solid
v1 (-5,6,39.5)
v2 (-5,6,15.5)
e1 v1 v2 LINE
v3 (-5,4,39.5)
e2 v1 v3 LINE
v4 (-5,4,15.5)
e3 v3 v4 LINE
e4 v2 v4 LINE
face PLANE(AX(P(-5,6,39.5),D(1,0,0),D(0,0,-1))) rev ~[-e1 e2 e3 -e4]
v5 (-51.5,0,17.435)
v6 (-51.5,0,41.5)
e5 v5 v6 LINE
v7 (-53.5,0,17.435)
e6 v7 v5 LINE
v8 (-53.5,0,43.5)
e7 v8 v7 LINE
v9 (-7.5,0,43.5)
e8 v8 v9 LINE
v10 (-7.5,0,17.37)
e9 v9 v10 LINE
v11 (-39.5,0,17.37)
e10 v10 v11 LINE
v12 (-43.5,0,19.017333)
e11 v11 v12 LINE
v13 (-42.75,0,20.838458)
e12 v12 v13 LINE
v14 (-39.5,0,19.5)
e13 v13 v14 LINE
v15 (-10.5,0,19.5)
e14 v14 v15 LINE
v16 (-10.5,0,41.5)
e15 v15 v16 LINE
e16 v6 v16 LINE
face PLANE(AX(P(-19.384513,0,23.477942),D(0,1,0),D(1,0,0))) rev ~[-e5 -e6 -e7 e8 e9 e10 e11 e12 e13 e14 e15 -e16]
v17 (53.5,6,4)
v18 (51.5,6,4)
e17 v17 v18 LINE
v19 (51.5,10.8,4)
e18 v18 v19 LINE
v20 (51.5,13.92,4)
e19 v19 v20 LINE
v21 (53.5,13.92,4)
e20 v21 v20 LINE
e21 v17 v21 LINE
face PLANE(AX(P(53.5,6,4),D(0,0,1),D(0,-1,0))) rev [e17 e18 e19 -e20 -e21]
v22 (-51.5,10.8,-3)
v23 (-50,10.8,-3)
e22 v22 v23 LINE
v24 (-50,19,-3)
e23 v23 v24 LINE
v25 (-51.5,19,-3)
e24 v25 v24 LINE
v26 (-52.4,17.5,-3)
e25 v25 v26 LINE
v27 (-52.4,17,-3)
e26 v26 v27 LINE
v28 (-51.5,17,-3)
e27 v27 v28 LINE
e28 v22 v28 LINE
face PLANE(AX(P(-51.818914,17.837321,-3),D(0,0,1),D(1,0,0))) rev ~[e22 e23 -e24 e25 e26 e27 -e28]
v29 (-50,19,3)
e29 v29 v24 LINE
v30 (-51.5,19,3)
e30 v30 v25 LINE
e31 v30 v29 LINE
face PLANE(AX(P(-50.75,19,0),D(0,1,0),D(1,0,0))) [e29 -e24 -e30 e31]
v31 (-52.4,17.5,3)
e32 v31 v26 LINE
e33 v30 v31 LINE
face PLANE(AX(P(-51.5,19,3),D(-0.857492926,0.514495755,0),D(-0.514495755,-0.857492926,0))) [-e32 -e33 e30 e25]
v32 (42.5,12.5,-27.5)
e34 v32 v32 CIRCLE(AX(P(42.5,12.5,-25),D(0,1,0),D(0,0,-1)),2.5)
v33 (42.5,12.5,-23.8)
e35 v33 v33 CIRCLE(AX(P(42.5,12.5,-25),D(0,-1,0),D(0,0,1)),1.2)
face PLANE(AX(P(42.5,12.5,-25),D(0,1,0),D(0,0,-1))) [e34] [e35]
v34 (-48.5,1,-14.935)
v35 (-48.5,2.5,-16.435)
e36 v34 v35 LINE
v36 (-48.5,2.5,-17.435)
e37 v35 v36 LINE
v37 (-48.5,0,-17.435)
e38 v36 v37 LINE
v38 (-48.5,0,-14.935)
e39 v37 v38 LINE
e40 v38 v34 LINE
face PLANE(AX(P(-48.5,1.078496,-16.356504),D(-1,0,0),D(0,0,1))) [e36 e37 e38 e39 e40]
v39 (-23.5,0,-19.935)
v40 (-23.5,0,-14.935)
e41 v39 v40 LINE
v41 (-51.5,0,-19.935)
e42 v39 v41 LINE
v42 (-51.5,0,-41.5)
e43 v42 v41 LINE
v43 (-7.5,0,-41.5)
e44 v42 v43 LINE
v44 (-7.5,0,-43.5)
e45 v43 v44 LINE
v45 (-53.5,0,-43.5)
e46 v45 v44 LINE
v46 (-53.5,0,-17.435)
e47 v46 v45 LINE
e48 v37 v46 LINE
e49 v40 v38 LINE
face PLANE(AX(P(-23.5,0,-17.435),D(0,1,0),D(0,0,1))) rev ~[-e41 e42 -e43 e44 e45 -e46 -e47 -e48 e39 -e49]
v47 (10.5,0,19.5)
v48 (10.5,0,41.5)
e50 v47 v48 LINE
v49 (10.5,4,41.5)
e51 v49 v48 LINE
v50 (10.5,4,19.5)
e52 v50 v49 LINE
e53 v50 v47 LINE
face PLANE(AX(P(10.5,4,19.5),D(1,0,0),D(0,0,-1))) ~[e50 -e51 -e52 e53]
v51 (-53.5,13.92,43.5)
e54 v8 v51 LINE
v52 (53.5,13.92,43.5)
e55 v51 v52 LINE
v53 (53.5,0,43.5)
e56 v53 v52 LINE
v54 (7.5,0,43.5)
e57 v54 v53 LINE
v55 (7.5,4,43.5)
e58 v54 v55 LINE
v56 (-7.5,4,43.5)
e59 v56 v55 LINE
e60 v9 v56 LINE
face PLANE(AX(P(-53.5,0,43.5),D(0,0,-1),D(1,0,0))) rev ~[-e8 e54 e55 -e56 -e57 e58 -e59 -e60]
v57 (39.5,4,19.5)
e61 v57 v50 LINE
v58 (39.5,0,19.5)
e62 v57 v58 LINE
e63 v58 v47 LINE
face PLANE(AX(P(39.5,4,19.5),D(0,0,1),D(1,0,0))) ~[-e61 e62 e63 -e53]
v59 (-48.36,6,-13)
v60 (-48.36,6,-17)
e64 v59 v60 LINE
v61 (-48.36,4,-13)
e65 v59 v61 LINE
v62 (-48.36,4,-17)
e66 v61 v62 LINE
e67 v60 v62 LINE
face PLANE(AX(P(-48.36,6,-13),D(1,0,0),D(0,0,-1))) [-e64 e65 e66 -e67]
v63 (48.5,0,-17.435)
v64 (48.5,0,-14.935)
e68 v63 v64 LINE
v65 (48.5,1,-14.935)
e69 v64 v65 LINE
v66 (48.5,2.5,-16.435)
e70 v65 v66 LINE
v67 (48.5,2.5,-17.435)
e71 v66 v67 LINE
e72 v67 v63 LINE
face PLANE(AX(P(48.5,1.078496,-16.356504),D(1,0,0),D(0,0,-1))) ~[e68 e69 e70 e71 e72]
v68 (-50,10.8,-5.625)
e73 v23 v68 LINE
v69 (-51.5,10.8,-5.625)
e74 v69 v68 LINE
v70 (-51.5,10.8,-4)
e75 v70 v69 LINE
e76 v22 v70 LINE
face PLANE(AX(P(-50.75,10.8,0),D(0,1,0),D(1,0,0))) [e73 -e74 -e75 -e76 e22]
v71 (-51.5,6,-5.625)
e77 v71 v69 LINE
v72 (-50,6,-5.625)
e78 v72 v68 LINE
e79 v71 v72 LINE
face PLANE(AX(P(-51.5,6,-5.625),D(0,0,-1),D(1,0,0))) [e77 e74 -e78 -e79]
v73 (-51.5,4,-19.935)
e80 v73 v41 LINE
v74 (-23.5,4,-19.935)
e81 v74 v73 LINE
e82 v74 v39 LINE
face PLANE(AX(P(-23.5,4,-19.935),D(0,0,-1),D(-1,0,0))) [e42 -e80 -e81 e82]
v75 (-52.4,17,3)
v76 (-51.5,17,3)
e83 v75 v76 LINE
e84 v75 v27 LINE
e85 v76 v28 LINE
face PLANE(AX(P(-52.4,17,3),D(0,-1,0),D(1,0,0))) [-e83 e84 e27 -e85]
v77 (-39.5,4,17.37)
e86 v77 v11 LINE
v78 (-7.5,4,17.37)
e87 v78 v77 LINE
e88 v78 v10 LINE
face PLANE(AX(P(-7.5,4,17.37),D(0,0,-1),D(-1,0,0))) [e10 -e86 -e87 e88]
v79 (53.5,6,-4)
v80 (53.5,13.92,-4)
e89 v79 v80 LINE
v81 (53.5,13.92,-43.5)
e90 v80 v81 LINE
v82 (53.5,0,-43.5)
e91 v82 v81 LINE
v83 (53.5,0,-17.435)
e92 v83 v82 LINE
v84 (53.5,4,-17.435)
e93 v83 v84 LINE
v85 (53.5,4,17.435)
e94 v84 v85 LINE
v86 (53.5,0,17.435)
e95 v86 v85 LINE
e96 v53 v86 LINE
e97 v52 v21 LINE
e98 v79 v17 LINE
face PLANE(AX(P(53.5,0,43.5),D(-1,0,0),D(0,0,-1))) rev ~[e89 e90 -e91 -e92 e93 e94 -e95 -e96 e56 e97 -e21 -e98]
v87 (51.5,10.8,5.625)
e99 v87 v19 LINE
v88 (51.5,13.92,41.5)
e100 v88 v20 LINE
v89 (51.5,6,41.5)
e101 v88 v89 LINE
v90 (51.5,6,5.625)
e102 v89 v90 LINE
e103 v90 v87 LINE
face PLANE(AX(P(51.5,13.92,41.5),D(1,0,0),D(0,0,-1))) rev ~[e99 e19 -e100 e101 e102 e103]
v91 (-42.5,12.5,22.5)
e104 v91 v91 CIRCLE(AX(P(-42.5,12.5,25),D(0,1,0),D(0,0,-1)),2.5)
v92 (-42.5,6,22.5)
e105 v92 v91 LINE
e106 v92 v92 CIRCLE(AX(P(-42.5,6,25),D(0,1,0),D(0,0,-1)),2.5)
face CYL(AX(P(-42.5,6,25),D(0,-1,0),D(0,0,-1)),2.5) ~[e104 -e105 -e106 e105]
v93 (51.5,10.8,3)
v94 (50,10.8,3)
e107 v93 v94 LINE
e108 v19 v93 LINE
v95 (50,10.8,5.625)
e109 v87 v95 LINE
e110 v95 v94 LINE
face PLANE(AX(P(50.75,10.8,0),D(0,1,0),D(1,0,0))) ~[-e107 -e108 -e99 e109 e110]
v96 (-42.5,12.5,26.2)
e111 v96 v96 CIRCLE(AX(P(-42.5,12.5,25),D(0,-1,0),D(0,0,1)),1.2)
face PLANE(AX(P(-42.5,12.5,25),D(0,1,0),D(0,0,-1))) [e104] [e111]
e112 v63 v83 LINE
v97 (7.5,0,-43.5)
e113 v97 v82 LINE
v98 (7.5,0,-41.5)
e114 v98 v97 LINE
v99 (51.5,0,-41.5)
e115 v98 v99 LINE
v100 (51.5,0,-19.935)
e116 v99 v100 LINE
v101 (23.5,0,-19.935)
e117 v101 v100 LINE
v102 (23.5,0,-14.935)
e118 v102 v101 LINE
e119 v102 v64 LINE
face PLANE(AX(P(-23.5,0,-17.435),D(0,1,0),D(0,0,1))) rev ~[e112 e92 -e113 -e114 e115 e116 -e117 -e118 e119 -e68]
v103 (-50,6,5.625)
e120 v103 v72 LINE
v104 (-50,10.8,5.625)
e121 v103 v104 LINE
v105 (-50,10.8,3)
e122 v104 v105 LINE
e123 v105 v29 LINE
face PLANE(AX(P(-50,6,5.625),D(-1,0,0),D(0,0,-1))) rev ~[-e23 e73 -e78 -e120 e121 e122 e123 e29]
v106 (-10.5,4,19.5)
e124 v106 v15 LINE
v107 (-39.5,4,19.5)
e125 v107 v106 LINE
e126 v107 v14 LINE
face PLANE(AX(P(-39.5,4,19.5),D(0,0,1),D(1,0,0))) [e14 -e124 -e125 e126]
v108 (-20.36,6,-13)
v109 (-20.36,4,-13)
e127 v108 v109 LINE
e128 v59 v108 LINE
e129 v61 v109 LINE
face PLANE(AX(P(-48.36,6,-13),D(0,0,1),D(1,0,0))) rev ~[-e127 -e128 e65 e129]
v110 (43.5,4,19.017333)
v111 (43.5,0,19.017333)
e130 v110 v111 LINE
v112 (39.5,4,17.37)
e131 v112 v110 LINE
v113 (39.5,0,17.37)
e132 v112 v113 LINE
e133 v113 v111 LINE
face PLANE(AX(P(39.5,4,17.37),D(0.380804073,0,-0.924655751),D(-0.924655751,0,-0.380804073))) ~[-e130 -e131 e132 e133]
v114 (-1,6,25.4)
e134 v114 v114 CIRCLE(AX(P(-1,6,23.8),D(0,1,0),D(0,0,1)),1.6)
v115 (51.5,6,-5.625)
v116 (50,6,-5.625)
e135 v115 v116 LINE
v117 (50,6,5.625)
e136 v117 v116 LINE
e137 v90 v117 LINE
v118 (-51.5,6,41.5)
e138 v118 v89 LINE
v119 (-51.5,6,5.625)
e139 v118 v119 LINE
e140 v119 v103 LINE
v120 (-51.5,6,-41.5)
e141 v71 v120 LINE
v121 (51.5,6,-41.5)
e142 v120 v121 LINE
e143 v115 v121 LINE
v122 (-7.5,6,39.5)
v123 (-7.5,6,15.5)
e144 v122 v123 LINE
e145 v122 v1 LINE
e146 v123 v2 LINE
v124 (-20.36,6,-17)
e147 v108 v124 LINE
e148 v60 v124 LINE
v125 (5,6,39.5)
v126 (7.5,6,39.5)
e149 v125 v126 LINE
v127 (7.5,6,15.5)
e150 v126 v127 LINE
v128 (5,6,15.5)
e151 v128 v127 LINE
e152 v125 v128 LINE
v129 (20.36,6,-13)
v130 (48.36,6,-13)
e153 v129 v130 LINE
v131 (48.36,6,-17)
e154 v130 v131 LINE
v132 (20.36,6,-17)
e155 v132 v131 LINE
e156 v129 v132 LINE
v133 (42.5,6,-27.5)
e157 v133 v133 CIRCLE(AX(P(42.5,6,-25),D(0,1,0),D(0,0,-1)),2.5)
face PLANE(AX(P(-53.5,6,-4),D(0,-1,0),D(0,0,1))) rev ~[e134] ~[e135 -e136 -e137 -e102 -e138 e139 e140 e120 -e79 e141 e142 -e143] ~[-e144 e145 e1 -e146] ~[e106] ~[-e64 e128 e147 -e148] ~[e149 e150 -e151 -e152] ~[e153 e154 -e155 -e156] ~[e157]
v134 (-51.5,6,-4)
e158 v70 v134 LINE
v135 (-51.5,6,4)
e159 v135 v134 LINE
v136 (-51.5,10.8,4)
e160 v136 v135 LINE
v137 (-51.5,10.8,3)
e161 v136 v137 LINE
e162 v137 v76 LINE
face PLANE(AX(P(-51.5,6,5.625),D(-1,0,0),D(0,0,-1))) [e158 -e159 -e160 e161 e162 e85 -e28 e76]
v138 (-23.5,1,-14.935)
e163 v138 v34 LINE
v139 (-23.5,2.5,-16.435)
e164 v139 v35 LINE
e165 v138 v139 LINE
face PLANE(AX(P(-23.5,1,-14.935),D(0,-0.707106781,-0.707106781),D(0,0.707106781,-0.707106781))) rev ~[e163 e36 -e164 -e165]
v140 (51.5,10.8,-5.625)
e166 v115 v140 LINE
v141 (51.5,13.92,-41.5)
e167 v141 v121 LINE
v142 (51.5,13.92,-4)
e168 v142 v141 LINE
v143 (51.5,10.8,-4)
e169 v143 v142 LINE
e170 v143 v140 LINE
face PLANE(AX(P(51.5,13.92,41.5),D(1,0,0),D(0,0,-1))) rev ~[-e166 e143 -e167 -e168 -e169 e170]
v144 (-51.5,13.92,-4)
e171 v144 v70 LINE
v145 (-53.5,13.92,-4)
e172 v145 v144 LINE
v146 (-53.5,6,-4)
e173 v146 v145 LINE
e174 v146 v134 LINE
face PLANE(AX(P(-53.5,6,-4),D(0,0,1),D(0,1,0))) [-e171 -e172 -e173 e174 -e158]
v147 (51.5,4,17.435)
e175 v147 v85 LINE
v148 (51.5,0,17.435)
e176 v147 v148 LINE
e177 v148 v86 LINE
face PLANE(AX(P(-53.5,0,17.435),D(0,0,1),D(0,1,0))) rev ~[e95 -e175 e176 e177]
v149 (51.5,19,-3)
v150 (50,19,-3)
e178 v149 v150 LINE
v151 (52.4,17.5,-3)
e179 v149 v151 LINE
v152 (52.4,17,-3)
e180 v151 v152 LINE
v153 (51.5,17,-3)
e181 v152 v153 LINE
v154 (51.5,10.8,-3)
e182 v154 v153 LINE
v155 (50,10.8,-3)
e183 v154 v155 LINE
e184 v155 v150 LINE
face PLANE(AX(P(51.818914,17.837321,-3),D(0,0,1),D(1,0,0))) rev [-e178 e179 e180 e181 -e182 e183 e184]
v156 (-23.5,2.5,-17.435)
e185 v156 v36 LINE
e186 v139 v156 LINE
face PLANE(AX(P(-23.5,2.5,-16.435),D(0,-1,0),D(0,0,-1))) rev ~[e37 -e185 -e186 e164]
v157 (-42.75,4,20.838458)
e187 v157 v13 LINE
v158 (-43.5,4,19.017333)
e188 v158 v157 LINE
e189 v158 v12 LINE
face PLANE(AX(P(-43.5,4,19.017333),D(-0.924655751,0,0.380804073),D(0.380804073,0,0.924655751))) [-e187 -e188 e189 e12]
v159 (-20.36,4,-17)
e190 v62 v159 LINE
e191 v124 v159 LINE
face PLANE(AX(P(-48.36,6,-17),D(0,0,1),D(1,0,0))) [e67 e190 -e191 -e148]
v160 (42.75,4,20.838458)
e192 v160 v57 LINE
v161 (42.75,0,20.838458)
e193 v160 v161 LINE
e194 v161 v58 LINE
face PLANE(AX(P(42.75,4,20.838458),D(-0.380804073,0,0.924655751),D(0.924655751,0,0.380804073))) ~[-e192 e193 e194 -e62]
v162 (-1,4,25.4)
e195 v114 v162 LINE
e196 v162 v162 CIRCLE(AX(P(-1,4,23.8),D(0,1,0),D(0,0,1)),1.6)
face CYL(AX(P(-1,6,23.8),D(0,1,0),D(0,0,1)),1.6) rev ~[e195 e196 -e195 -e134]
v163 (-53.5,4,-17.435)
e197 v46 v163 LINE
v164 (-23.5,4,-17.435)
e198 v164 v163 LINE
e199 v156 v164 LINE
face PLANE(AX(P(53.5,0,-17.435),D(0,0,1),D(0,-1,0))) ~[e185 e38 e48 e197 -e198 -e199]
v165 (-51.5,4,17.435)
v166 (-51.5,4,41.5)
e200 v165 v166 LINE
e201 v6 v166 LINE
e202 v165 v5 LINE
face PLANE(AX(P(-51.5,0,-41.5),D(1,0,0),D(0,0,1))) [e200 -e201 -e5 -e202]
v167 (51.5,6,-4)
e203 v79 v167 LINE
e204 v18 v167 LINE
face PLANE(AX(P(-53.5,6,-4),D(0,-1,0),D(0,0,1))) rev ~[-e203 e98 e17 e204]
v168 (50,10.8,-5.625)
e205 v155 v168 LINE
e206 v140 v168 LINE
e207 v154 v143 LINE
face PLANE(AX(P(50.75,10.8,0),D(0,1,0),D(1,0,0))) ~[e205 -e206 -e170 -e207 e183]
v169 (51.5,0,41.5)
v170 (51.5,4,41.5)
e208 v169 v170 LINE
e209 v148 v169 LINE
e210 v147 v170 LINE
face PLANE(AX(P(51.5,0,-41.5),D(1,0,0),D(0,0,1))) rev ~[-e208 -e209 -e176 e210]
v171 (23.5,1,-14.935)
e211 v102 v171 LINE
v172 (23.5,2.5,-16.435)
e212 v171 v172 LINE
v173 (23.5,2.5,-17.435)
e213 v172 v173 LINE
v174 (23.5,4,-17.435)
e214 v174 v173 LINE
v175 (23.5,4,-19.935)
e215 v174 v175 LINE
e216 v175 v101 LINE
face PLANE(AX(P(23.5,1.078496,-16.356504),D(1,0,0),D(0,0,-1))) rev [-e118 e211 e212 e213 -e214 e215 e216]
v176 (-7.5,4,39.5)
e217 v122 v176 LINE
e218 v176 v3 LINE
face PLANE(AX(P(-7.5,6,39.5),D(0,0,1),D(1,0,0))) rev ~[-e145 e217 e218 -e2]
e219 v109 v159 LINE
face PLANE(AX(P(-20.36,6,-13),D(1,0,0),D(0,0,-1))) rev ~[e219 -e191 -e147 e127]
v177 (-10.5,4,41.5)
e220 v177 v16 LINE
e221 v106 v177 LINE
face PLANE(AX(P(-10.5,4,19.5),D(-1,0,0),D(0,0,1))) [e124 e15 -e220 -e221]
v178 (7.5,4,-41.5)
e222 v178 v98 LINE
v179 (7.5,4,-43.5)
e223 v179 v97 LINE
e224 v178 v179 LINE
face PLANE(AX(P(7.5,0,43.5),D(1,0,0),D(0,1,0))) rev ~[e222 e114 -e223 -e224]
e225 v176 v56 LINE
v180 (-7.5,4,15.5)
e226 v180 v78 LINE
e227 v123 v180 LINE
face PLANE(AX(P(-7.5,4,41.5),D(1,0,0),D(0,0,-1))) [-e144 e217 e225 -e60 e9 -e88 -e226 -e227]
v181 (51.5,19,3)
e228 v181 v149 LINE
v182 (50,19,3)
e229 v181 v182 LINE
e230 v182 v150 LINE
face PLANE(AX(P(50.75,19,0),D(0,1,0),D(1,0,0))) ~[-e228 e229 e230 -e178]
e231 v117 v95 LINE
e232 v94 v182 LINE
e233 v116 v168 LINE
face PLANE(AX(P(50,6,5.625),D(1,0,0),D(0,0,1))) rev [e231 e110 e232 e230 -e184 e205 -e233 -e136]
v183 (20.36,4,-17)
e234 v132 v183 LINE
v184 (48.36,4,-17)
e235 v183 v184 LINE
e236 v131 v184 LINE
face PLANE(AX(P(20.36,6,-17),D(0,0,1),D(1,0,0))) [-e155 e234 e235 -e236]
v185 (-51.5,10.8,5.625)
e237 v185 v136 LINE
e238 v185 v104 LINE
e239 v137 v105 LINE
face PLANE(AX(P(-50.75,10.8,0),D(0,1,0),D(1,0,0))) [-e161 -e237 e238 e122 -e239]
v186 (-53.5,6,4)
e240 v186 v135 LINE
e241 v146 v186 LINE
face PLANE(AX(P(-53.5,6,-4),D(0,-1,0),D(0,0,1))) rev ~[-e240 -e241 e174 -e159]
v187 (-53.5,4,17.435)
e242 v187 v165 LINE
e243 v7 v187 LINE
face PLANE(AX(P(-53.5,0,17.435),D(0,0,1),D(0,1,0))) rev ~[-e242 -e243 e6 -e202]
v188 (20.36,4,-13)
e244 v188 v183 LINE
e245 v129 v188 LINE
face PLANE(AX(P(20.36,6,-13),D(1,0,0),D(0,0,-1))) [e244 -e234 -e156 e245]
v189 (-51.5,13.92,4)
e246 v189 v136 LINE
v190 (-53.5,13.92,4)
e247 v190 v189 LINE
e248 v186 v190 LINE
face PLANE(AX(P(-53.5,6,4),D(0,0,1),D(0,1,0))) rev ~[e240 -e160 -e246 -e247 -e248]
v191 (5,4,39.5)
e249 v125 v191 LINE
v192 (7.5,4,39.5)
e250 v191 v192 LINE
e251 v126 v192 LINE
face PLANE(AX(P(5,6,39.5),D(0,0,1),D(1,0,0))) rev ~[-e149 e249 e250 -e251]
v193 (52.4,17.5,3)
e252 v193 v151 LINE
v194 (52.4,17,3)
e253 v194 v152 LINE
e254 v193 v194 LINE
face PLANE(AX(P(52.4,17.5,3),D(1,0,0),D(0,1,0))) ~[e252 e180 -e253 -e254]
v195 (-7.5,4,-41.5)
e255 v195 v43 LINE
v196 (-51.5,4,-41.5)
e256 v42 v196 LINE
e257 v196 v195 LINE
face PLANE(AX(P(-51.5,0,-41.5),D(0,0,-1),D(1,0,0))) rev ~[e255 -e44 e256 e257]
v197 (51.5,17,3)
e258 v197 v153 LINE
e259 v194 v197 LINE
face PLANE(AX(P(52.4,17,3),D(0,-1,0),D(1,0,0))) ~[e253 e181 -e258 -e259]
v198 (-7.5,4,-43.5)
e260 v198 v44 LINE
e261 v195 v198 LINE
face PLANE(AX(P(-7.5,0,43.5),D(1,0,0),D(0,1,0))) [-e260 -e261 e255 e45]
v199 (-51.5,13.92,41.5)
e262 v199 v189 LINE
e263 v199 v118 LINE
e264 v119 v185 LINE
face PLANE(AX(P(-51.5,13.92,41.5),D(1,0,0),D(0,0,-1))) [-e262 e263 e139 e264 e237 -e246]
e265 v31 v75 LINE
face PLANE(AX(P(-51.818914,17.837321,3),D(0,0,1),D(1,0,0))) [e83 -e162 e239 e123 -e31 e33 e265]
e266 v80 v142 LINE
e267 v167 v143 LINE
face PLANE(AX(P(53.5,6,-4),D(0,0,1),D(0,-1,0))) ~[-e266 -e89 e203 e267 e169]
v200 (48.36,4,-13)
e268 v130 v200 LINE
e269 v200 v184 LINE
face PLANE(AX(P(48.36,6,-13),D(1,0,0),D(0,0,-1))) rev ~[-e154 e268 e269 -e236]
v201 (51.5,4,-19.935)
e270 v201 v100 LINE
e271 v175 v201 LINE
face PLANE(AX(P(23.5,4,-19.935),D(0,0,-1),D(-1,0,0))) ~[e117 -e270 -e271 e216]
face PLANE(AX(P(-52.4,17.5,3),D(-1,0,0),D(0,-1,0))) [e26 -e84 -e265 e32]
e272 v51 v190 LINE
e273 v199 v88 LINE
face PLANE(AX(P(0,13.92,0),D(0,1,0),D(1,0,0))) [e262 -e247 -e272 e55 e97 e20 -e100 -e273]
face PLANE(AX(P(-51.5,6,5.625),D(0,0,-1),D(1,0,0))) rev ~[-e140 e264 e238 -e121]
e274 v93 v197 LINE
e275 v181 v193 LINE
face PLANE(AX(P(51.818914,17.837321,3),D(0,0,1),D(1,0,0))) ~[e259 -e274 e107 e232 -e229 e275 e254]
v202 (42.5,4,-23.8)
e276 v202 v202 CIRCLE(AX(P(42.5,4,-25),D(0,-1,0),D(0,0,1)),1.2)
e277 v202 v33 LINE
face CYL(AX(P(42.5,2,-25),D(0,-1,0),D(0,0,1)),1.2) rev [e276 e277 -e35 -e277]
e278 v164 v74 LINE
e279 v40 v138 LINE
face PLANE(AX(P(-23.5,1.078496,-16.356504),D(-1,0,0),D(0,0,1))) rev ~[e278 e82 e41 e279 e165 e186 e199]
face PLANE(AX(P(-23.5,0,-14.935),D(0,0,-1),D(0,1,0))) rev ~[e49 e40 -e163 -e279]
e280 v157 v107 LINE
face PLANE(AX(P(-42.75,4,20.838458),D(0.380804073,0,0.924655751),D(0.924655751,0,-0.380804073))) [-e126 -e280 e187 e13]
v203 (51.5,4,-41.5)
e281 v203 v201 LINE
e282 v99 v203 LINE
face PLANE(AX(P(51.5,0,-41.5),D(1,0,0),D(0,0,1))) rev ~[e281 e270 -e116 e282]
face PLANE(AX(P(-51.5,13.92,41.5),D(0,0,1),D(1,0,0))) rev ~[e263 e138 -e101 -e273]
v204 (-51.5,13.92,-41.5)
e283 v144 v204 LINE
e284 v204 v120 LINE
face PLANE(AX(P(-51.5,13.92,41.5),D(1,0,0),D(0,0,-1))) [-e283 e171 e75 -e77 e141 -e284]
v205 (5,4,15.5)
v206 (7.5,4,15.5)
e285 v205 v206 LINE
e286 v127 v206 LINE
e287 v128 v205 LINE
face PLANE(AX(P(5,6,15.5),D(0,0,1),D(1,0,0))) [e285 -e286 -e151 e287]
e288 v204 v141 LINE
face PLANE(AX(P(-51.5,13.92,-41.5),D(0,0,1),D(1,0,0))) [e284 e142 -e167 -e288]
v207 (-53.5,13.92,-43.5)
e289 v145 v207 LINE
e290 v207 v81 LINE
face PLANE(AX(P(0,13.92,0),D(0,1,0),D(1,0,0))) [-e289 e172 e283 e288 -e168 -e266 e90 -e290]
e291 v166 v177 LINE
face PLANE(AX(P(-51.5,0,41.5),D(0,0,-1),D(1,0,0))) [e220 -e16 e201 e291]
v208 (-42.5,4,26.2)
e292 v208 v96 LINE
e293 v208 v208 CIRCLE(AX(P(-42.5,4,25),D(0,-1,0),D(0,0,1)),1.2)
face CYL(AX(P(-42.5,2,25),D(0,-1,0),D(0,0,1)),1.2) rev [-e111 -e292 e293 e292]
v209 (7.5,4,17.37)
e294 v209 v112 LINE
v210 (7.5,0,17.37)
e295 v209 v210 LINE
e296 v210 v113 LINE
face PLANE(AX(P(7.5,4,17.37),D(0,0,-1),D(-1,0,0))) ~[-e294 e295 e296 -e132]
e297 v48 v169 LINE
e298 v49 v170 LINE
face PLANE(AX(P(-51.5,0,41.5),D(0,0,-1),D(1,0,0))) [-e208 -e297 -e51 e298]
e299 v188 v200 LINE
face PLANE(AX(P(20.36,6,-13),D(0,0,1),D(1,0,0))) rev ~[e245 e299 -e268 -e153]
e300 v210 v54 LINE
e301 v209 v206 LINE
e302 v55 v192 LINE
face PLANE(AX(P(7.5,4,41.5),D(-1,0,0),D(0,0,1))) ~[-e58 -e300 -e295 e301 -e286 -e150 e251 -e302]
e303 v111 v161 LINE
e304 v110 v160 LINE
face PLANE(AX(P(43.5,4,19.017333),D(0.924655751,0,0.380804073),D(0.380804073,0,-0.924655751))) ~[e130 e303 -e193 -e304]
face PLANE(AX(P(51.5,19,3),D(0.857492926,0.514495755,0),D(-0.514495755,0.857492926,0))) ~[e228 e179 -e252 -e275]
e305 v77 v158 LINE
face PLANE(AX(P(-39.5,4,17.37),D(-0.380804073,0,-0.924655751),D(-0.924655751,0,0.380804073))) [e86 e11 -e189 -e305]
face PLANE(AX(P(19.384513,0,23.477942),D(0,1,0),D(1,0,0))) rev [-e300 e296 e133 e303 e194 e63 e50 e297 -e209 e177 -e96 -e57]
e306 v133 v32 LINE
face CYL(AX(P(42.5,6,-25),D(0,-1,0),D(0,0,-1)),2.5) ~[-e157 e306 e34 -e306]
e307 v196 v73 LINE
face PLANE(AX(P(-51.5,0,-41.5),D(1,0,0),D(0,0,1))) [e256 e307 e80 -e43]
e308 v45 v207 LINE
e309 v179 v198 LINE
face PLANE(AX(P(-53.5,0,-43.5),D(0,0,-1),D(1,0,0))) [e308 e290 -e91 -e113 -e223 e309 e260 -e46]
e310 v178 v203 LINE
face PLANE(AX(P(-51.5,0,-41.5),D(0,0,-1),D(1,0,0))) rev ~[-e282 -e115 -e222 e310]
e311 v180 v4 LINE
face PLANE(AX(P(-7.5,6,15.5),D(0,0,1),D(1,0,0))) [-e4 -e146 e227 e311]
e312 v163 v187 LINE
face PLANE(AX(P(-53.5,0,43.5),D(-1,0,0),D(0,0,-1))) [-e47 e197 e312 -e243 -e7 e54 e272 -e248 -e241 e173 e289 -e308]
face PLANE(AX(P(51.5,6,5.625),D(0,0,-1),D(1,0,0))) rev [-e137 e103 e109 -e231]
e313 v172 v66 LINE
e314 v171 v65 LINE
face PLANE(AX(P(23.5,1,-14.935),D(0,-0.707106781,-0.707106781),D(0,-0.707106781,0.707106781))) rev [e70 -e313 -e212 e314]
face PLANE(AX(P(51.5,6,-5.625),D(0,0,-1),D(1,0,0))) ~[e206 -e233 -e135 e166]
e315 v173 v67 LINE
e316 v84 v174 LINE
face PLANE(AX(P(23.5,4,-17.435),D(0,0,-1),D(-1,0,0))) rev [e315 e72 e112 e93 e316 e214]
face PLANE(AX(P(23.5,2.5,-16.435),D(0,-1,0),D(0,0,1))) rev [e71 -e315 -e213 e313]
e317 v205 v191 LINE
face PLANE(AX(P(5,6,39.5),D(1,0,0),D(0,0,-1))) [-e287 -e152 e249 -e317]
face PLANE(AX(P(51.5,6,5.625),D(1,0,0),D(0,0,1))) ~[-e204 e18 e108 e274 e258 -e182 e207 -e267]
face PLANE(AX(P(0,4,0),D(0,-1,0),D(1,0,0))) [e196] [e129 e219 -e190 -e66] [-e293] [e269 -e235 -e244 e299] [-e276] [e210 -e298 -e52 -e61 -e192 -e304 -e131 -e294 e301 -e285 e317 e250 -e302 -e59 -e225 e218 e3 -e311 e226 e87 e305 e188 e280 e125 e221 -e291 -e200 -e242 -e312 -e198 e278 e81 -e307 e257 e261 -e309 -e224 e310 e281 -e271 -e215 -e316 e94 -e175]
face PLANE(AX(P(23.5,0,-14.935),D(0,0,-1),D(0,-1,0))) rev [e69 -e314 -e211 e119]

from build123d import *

# Parameters (mm, degrees)
SKETCH1_W               = 107
SKETCH1_H               = 87
BOSS_EXTRUDE1_DEPTH     = 13.92
SKETCH2_W               = 103
SKETCH2_H               = 83
CUT_EXTRUDE1_DEPTH      = 7.92
SKETCH3_R               = 2.5
BOSS_EXTRUDE2_DEPTH     = 6.5
CUT_EXTRUDE2_DEPTH      = 70.406241794
CUT_EXTRUDE2_DEPTH_BACK = 4
SKETCH4_R               = 1.2
SKETCH5_W               = 28
SKETCH5_H               = 4
CUT_EXTRUDE3_DEPTH      = 70.406241794
SKETCH6_W               = 2.5
SKETCH6_H               = 24
CUT_EXTRUDE4_DEPTH      = 70.406241794
SKETCH7_R               = 1.6
CUT_EXTRUDE6_DEPTH      = 70.406241794
SKETCH8_W               = 8
SKETCH8_H               = 7.92
CUT_EXTRUDE9_DEPTH      = 4
SKETCH9_W               = 1.5
SKETCH9_H               = 11.25
BOSS_EXTRUDE4_DEPTH     = 4.8
SKETCH10_W              = 1.5
SKETCH10_H              = 6
BOSS_EXTRUDE5_DEPTH     = 8.2
BOSS_EXTRUDE6_DEPTH     = 6
SKETCH12_W              = 103
SKETCH12_H              = 83
CUT_EXTRUDE10_DEPTH     = 4
SKETCH13_W              = 34.87
SKETCH13_H              = 4
CUT_EXTRUDE11_DEPTH     = 118.056610236
SKETCH14_W              = 28
SKETCH14_H              = 2.5
BOSS_EXTRUDE9_DEPTH     = 4
BOSS_EXTRUDE10_DEPTH    = 25
BOSS_EXTRUDE11_DEPTH    = 25
SKETCH16_W              = 15
SKETCH16_H              = 4
CUT_EXTRUDE12_DEPTH     = 104.885754558
BOSS_EXTRUDE12_DEPTH    = 4


with BuildPart() as part:
    # Sketch1 → Boss-Extrude1 (new body)
    with BuildSketch(Plane(origin=(0, 0, 0), x_dir=(1, 0, 0), z_dir=(0, 1, 0))):
        Rectangle(SKETCH1_W, SKETCH1_H)
    extrude(amount=BOSS_EXTRUDE1_DEPTH)

    # Sketch2 → Cut-Extrude1 (cut)
    with BuildSketch(Plane(origin=(0, 13.92, 0), x_dir=(1, 0, 0), z_dir=(0, 1, 0))):
        Rectangle(SKETCH2_W, SKETCH2_H)
    extrude(amount=-CUT_EXTRUDE1_DEPTH, mode=Mode.SUBTRACT)

    # Sketch3 → Boss-Extrude2 (add)
    with BuildSketch(Plane(origin=(0, 6, 0), x_dir=(1, 0, 0), z_dir=(0, 1, 0))):
        with Locations((-42.5, -25)):
            Circle(SKETCH3_R)
        with Locations((42.5, 25)):
            Circle(SKETCH3_R)
    extrude(amount=BOSS_EXTRUDE2_DEPTH)

    # Sketch4 → Cut-Extrude2 (cut, two sides: drawn at the far end of the back side and taken through both)
    with BuildSketch(Plane(origin=(0, 6, 0), x_dir=(1, 0, 0), z_dir=(0, 1, 0)).offset(-CUT_EXTRUDE2_DEPTH_BACK)):
        with Locations((-42.5, -25)):
            Circle(SKETCH4_R)
        with Locations((42.5, 25)):
            Circle(SKETCH4_R)
    extrude(amount=CUT_EXTRUDE2_DEPTH + CUT_EXTRUDE2_DEPTH_BACK, mode=Mode.SUBTRACT)

    # Sketch5 → Cut-Extrude3 (cut, through all)
    with BuildSketch(Plane(origin=(0, 6, 0), x_dir=(1, 0, 0), z_dir=(0, 1, 0))):
        with Locations((-34.36, 15)):
            Rectangle(SKETCH5_W, SKETCH5_H)
        with Locations((34.36, 15)):
            Rectangle(SKETCH5_W, SKETCH5_H)
    extrude(amount=-CUT_EXTRUDE3_DEPTH, mode=Mode.SUBTRACT)

    # Sketch6 → Cut-Extrude4 (cut, through all)
    with BuildSketch(Plane(origin=(0, 6, 0), x_dir=(1, 0, 0), z_dir=(0, 1, 0))):
        with Locations((6.25, -27.5)):
            Rectangle(SKETCH6_W, SKETCH6_H)
        with Locations((-6.25, -27.5)):
            Rectangle(SKETCH6_W, SKETCH6_H)
    extrude(amount=-CUT_EXTRUDE4_DEPTH, mode=Mode.SUBTRACT)

    # Sketch7 → Cut-Extrude6 (cut, through all)
    with BuildSketch(Plane(origin=(0, 6, 0), x_dir=(1, 0, 0), z_dir=(0, 1, 0))):
        with Locations((-1, -23.8)):
            Circle(SKETCH7_R)
    extrude(amount=-CUT_EXTRUDE6_DEPTH, mode=Mode.SUBTRACT)

    # Sketch8 → Cut-Extrude9 (cut)
    with BuildSketch(Plane.ZY.offset(53.5)):
        with Locations((0, 9.96)):
            Rectangle(SKETCH8_W, SKETCH8_H)
    cut_extrude9 = extrude(amount=-CUT_EXTRUDE9_DEPTH, mode=Mode.SUBTRACT)

    # Sketch9 → Boss-Extrude4 (add)
    with BuildSketch(Plane(origin=(0, 6, 0), x_dir=(1, 0, 0), z_dir=(0, 1, 0))):
        with Locations((-50.75, 0)):
            Rectangle(SKETCH9_W, SKETCH9_H)
    boss_extrude4 = extrude(amount=BOSS_EXTRUDE4_DEPTH)

    # Sketch10 → Boss-Extrude5 (add)
    with BuildSketch(Plane(origin=(0, 10.8, 0), x_dir=(1, 0, 0), z_dir=(0, 1, 0))):
        with Locations((-50.75, 0)):
            Rectangle(SKETCH10_W, SKETCH10_H)
    boss_extrude5 = extrude(amount=BOSS_EXTRUDE5_DEPTH)

    # Sketch11 → Boss-Extrude6 (add)
    with BuildSketch(Plane.XY.offset(3)):
        Polygon((-51.5, 19), (-52.4, 17.5), (-52.4, 17), (-51.5, 17), align=None)
    boss_extrude6 = extrude(amount=-BOSS_EXTRUDE6_DEPTH)

    # Mirror2: Cut-Extrude9, Boss-Extrude4, Boss-Extrude5, Boss-Extrude6 across plane
    add(cut_extrude9.mirror(Plane(origin=(0, 0, 0), x_dir=(0, 0, 1), z_dir=(1, 0, 0))), mode=Mode.SUBTRACT)
    add(boss_extrude4.mirror(Plane(origin=(0, 0, 0), x_dir=(0, 0, 1), z_dir=(1, 0, 0))))
    add(boss_extrude5.mirror(Plane(origin=(0, 0, 0), x_dir=(0, 0, 1), z_dir=(1, 0, 0))))
    add(boss_extrude6.mirror(Plane(origin=(0, 0, 0), x_dir=(0, 0, 1), z_dir=(1, 0, 0))))

    # Sketch12 → Cut-Extrude10 (cut)
    with BuildSketch(Plane.XZ):
        Rectangle(SKETCH12_W, SKETCH12_H)
    extrude(amount=-CUT_EXTRUDE10_DEPTH, mode=Mode.SUBTRACT)

    # Sketch13 → Cut-Extrude11 (cut, through all)
    with BuildSketch(Plane.ZY.offset(53.5)):
        with Locations((0, 2)):
            Rectangle(SKETCH13_W, SKETCH13_H)
    cut_extrude11 = extrude(amount=-CUT_EXTRUDE11_DEPTH, mode=Mode.SUBTRACT)

    # Sketch14 → Boss-Extrude9 (add)
    with BuildSketch(Plane(origin=(0, 4, 0), x_dir=(-1, 0, 0), z_dir=(0, -1, 0))):
        with Locations((37.5, 18.685)):
            Rectangle(SKETCH14_W, SKETCH14_H)
    boss_extrude9 = extrude(amount=BOSS_EXTRUDE9_DEPTH)

    # Sketch15 → Boss-Extrude10 (add)
    with BuildSketch(Plane(origin=(-23.5, 0, 0), x_dir=(0, 0, -1), z_dir=(1, 0, 0))):
        Polygon((17.435, 0), (14.935, 0), (14.935, 1), (16.435, 2.5), (17.435, 2.5), align=None)
    boss_extrude10 = extrude(amount=-BOSS_EXTRUDE10_DEPTH)

    # Mirror8: Cut-Extrude11, Boss-Extrude9, Boss-Extrude10 across plane
    add(cut_extrude11.mirror(Plane(origin=(0, 0, 0), x_dir=(0, 0, 1), z_dir=(1, 0, 0))), mode=Mode.SUBTRACT)
    add(boss_extrude9.mirror(Plane(origin=(0, 0, 0), x_dir=(0, 0, 1), z_dir=(1, 0, 0))))
    add(boss_extrude10.mirror(Plane(origin=(0, 0, 0), x_dir=(0, 0, 1), z_dir=(1, 0, 0))))

    # Sketch15<2> → Boss-Extrude11 (add)
    with BuildSketch(Plane(origin=(-23.5, 0, 0), x_dir=(0, 0, -1), z_dir=(1, 0, 0))):
        Polygon((17.435, 0), (14.935, 0), (14.935, 1), (16.435, 2.5), (17.435, 2.5), align=None)
    extrude(amount=-BOSS_EXTRUDE11_DEPTH)

    # Sketch16 → Cut-Extrude12 (cut, through all)
    with BuildSketch(Plane.XY.offset(43.5)):
        with Locations((0, 2)):
            Rectangle(SKETCH16_W, SKETCH16_H)
    cut_extrude12 = extrude(amount=-CUT_EXTRUDE12_DEPTH, mode=Mode.SUBTRACT)

    # Sketch18 → Boss-Extrude12 (add)
    with BuildSketch(Plane(origin=(0, 4, 0), x_dir=(-1, 0, 0), z_dir=(0, -1, 0))):
        Polygon((7.5, -41.5), (7.5, -17.37), (39.5, -17.37), (43.5, -19.017333388), (42.75, -20.838458378), (39.5, -19.5), (10.5, -19.5), (10.5, -41.5), align=None)
    boss_extrude12 = extrude(amount=BOSS_EXTRUDE12_DEPTH)

    # Mirror9: Cut-Extrude12, Boss-Extrude12 across plane
    add(cut_extrude12.mirror(Plane(origin=(0, 0, 0), x_dir=(0, 0, 1), z_dir=(1, 0, 0))), mode=Mode.SUBTRACT)
    add(boss_extrude12.mirror(Plane(origin=(0, 0, 0), x_dir=(0, 0, 1), z_dir=(1, 0, 0))))


solid = part.part
